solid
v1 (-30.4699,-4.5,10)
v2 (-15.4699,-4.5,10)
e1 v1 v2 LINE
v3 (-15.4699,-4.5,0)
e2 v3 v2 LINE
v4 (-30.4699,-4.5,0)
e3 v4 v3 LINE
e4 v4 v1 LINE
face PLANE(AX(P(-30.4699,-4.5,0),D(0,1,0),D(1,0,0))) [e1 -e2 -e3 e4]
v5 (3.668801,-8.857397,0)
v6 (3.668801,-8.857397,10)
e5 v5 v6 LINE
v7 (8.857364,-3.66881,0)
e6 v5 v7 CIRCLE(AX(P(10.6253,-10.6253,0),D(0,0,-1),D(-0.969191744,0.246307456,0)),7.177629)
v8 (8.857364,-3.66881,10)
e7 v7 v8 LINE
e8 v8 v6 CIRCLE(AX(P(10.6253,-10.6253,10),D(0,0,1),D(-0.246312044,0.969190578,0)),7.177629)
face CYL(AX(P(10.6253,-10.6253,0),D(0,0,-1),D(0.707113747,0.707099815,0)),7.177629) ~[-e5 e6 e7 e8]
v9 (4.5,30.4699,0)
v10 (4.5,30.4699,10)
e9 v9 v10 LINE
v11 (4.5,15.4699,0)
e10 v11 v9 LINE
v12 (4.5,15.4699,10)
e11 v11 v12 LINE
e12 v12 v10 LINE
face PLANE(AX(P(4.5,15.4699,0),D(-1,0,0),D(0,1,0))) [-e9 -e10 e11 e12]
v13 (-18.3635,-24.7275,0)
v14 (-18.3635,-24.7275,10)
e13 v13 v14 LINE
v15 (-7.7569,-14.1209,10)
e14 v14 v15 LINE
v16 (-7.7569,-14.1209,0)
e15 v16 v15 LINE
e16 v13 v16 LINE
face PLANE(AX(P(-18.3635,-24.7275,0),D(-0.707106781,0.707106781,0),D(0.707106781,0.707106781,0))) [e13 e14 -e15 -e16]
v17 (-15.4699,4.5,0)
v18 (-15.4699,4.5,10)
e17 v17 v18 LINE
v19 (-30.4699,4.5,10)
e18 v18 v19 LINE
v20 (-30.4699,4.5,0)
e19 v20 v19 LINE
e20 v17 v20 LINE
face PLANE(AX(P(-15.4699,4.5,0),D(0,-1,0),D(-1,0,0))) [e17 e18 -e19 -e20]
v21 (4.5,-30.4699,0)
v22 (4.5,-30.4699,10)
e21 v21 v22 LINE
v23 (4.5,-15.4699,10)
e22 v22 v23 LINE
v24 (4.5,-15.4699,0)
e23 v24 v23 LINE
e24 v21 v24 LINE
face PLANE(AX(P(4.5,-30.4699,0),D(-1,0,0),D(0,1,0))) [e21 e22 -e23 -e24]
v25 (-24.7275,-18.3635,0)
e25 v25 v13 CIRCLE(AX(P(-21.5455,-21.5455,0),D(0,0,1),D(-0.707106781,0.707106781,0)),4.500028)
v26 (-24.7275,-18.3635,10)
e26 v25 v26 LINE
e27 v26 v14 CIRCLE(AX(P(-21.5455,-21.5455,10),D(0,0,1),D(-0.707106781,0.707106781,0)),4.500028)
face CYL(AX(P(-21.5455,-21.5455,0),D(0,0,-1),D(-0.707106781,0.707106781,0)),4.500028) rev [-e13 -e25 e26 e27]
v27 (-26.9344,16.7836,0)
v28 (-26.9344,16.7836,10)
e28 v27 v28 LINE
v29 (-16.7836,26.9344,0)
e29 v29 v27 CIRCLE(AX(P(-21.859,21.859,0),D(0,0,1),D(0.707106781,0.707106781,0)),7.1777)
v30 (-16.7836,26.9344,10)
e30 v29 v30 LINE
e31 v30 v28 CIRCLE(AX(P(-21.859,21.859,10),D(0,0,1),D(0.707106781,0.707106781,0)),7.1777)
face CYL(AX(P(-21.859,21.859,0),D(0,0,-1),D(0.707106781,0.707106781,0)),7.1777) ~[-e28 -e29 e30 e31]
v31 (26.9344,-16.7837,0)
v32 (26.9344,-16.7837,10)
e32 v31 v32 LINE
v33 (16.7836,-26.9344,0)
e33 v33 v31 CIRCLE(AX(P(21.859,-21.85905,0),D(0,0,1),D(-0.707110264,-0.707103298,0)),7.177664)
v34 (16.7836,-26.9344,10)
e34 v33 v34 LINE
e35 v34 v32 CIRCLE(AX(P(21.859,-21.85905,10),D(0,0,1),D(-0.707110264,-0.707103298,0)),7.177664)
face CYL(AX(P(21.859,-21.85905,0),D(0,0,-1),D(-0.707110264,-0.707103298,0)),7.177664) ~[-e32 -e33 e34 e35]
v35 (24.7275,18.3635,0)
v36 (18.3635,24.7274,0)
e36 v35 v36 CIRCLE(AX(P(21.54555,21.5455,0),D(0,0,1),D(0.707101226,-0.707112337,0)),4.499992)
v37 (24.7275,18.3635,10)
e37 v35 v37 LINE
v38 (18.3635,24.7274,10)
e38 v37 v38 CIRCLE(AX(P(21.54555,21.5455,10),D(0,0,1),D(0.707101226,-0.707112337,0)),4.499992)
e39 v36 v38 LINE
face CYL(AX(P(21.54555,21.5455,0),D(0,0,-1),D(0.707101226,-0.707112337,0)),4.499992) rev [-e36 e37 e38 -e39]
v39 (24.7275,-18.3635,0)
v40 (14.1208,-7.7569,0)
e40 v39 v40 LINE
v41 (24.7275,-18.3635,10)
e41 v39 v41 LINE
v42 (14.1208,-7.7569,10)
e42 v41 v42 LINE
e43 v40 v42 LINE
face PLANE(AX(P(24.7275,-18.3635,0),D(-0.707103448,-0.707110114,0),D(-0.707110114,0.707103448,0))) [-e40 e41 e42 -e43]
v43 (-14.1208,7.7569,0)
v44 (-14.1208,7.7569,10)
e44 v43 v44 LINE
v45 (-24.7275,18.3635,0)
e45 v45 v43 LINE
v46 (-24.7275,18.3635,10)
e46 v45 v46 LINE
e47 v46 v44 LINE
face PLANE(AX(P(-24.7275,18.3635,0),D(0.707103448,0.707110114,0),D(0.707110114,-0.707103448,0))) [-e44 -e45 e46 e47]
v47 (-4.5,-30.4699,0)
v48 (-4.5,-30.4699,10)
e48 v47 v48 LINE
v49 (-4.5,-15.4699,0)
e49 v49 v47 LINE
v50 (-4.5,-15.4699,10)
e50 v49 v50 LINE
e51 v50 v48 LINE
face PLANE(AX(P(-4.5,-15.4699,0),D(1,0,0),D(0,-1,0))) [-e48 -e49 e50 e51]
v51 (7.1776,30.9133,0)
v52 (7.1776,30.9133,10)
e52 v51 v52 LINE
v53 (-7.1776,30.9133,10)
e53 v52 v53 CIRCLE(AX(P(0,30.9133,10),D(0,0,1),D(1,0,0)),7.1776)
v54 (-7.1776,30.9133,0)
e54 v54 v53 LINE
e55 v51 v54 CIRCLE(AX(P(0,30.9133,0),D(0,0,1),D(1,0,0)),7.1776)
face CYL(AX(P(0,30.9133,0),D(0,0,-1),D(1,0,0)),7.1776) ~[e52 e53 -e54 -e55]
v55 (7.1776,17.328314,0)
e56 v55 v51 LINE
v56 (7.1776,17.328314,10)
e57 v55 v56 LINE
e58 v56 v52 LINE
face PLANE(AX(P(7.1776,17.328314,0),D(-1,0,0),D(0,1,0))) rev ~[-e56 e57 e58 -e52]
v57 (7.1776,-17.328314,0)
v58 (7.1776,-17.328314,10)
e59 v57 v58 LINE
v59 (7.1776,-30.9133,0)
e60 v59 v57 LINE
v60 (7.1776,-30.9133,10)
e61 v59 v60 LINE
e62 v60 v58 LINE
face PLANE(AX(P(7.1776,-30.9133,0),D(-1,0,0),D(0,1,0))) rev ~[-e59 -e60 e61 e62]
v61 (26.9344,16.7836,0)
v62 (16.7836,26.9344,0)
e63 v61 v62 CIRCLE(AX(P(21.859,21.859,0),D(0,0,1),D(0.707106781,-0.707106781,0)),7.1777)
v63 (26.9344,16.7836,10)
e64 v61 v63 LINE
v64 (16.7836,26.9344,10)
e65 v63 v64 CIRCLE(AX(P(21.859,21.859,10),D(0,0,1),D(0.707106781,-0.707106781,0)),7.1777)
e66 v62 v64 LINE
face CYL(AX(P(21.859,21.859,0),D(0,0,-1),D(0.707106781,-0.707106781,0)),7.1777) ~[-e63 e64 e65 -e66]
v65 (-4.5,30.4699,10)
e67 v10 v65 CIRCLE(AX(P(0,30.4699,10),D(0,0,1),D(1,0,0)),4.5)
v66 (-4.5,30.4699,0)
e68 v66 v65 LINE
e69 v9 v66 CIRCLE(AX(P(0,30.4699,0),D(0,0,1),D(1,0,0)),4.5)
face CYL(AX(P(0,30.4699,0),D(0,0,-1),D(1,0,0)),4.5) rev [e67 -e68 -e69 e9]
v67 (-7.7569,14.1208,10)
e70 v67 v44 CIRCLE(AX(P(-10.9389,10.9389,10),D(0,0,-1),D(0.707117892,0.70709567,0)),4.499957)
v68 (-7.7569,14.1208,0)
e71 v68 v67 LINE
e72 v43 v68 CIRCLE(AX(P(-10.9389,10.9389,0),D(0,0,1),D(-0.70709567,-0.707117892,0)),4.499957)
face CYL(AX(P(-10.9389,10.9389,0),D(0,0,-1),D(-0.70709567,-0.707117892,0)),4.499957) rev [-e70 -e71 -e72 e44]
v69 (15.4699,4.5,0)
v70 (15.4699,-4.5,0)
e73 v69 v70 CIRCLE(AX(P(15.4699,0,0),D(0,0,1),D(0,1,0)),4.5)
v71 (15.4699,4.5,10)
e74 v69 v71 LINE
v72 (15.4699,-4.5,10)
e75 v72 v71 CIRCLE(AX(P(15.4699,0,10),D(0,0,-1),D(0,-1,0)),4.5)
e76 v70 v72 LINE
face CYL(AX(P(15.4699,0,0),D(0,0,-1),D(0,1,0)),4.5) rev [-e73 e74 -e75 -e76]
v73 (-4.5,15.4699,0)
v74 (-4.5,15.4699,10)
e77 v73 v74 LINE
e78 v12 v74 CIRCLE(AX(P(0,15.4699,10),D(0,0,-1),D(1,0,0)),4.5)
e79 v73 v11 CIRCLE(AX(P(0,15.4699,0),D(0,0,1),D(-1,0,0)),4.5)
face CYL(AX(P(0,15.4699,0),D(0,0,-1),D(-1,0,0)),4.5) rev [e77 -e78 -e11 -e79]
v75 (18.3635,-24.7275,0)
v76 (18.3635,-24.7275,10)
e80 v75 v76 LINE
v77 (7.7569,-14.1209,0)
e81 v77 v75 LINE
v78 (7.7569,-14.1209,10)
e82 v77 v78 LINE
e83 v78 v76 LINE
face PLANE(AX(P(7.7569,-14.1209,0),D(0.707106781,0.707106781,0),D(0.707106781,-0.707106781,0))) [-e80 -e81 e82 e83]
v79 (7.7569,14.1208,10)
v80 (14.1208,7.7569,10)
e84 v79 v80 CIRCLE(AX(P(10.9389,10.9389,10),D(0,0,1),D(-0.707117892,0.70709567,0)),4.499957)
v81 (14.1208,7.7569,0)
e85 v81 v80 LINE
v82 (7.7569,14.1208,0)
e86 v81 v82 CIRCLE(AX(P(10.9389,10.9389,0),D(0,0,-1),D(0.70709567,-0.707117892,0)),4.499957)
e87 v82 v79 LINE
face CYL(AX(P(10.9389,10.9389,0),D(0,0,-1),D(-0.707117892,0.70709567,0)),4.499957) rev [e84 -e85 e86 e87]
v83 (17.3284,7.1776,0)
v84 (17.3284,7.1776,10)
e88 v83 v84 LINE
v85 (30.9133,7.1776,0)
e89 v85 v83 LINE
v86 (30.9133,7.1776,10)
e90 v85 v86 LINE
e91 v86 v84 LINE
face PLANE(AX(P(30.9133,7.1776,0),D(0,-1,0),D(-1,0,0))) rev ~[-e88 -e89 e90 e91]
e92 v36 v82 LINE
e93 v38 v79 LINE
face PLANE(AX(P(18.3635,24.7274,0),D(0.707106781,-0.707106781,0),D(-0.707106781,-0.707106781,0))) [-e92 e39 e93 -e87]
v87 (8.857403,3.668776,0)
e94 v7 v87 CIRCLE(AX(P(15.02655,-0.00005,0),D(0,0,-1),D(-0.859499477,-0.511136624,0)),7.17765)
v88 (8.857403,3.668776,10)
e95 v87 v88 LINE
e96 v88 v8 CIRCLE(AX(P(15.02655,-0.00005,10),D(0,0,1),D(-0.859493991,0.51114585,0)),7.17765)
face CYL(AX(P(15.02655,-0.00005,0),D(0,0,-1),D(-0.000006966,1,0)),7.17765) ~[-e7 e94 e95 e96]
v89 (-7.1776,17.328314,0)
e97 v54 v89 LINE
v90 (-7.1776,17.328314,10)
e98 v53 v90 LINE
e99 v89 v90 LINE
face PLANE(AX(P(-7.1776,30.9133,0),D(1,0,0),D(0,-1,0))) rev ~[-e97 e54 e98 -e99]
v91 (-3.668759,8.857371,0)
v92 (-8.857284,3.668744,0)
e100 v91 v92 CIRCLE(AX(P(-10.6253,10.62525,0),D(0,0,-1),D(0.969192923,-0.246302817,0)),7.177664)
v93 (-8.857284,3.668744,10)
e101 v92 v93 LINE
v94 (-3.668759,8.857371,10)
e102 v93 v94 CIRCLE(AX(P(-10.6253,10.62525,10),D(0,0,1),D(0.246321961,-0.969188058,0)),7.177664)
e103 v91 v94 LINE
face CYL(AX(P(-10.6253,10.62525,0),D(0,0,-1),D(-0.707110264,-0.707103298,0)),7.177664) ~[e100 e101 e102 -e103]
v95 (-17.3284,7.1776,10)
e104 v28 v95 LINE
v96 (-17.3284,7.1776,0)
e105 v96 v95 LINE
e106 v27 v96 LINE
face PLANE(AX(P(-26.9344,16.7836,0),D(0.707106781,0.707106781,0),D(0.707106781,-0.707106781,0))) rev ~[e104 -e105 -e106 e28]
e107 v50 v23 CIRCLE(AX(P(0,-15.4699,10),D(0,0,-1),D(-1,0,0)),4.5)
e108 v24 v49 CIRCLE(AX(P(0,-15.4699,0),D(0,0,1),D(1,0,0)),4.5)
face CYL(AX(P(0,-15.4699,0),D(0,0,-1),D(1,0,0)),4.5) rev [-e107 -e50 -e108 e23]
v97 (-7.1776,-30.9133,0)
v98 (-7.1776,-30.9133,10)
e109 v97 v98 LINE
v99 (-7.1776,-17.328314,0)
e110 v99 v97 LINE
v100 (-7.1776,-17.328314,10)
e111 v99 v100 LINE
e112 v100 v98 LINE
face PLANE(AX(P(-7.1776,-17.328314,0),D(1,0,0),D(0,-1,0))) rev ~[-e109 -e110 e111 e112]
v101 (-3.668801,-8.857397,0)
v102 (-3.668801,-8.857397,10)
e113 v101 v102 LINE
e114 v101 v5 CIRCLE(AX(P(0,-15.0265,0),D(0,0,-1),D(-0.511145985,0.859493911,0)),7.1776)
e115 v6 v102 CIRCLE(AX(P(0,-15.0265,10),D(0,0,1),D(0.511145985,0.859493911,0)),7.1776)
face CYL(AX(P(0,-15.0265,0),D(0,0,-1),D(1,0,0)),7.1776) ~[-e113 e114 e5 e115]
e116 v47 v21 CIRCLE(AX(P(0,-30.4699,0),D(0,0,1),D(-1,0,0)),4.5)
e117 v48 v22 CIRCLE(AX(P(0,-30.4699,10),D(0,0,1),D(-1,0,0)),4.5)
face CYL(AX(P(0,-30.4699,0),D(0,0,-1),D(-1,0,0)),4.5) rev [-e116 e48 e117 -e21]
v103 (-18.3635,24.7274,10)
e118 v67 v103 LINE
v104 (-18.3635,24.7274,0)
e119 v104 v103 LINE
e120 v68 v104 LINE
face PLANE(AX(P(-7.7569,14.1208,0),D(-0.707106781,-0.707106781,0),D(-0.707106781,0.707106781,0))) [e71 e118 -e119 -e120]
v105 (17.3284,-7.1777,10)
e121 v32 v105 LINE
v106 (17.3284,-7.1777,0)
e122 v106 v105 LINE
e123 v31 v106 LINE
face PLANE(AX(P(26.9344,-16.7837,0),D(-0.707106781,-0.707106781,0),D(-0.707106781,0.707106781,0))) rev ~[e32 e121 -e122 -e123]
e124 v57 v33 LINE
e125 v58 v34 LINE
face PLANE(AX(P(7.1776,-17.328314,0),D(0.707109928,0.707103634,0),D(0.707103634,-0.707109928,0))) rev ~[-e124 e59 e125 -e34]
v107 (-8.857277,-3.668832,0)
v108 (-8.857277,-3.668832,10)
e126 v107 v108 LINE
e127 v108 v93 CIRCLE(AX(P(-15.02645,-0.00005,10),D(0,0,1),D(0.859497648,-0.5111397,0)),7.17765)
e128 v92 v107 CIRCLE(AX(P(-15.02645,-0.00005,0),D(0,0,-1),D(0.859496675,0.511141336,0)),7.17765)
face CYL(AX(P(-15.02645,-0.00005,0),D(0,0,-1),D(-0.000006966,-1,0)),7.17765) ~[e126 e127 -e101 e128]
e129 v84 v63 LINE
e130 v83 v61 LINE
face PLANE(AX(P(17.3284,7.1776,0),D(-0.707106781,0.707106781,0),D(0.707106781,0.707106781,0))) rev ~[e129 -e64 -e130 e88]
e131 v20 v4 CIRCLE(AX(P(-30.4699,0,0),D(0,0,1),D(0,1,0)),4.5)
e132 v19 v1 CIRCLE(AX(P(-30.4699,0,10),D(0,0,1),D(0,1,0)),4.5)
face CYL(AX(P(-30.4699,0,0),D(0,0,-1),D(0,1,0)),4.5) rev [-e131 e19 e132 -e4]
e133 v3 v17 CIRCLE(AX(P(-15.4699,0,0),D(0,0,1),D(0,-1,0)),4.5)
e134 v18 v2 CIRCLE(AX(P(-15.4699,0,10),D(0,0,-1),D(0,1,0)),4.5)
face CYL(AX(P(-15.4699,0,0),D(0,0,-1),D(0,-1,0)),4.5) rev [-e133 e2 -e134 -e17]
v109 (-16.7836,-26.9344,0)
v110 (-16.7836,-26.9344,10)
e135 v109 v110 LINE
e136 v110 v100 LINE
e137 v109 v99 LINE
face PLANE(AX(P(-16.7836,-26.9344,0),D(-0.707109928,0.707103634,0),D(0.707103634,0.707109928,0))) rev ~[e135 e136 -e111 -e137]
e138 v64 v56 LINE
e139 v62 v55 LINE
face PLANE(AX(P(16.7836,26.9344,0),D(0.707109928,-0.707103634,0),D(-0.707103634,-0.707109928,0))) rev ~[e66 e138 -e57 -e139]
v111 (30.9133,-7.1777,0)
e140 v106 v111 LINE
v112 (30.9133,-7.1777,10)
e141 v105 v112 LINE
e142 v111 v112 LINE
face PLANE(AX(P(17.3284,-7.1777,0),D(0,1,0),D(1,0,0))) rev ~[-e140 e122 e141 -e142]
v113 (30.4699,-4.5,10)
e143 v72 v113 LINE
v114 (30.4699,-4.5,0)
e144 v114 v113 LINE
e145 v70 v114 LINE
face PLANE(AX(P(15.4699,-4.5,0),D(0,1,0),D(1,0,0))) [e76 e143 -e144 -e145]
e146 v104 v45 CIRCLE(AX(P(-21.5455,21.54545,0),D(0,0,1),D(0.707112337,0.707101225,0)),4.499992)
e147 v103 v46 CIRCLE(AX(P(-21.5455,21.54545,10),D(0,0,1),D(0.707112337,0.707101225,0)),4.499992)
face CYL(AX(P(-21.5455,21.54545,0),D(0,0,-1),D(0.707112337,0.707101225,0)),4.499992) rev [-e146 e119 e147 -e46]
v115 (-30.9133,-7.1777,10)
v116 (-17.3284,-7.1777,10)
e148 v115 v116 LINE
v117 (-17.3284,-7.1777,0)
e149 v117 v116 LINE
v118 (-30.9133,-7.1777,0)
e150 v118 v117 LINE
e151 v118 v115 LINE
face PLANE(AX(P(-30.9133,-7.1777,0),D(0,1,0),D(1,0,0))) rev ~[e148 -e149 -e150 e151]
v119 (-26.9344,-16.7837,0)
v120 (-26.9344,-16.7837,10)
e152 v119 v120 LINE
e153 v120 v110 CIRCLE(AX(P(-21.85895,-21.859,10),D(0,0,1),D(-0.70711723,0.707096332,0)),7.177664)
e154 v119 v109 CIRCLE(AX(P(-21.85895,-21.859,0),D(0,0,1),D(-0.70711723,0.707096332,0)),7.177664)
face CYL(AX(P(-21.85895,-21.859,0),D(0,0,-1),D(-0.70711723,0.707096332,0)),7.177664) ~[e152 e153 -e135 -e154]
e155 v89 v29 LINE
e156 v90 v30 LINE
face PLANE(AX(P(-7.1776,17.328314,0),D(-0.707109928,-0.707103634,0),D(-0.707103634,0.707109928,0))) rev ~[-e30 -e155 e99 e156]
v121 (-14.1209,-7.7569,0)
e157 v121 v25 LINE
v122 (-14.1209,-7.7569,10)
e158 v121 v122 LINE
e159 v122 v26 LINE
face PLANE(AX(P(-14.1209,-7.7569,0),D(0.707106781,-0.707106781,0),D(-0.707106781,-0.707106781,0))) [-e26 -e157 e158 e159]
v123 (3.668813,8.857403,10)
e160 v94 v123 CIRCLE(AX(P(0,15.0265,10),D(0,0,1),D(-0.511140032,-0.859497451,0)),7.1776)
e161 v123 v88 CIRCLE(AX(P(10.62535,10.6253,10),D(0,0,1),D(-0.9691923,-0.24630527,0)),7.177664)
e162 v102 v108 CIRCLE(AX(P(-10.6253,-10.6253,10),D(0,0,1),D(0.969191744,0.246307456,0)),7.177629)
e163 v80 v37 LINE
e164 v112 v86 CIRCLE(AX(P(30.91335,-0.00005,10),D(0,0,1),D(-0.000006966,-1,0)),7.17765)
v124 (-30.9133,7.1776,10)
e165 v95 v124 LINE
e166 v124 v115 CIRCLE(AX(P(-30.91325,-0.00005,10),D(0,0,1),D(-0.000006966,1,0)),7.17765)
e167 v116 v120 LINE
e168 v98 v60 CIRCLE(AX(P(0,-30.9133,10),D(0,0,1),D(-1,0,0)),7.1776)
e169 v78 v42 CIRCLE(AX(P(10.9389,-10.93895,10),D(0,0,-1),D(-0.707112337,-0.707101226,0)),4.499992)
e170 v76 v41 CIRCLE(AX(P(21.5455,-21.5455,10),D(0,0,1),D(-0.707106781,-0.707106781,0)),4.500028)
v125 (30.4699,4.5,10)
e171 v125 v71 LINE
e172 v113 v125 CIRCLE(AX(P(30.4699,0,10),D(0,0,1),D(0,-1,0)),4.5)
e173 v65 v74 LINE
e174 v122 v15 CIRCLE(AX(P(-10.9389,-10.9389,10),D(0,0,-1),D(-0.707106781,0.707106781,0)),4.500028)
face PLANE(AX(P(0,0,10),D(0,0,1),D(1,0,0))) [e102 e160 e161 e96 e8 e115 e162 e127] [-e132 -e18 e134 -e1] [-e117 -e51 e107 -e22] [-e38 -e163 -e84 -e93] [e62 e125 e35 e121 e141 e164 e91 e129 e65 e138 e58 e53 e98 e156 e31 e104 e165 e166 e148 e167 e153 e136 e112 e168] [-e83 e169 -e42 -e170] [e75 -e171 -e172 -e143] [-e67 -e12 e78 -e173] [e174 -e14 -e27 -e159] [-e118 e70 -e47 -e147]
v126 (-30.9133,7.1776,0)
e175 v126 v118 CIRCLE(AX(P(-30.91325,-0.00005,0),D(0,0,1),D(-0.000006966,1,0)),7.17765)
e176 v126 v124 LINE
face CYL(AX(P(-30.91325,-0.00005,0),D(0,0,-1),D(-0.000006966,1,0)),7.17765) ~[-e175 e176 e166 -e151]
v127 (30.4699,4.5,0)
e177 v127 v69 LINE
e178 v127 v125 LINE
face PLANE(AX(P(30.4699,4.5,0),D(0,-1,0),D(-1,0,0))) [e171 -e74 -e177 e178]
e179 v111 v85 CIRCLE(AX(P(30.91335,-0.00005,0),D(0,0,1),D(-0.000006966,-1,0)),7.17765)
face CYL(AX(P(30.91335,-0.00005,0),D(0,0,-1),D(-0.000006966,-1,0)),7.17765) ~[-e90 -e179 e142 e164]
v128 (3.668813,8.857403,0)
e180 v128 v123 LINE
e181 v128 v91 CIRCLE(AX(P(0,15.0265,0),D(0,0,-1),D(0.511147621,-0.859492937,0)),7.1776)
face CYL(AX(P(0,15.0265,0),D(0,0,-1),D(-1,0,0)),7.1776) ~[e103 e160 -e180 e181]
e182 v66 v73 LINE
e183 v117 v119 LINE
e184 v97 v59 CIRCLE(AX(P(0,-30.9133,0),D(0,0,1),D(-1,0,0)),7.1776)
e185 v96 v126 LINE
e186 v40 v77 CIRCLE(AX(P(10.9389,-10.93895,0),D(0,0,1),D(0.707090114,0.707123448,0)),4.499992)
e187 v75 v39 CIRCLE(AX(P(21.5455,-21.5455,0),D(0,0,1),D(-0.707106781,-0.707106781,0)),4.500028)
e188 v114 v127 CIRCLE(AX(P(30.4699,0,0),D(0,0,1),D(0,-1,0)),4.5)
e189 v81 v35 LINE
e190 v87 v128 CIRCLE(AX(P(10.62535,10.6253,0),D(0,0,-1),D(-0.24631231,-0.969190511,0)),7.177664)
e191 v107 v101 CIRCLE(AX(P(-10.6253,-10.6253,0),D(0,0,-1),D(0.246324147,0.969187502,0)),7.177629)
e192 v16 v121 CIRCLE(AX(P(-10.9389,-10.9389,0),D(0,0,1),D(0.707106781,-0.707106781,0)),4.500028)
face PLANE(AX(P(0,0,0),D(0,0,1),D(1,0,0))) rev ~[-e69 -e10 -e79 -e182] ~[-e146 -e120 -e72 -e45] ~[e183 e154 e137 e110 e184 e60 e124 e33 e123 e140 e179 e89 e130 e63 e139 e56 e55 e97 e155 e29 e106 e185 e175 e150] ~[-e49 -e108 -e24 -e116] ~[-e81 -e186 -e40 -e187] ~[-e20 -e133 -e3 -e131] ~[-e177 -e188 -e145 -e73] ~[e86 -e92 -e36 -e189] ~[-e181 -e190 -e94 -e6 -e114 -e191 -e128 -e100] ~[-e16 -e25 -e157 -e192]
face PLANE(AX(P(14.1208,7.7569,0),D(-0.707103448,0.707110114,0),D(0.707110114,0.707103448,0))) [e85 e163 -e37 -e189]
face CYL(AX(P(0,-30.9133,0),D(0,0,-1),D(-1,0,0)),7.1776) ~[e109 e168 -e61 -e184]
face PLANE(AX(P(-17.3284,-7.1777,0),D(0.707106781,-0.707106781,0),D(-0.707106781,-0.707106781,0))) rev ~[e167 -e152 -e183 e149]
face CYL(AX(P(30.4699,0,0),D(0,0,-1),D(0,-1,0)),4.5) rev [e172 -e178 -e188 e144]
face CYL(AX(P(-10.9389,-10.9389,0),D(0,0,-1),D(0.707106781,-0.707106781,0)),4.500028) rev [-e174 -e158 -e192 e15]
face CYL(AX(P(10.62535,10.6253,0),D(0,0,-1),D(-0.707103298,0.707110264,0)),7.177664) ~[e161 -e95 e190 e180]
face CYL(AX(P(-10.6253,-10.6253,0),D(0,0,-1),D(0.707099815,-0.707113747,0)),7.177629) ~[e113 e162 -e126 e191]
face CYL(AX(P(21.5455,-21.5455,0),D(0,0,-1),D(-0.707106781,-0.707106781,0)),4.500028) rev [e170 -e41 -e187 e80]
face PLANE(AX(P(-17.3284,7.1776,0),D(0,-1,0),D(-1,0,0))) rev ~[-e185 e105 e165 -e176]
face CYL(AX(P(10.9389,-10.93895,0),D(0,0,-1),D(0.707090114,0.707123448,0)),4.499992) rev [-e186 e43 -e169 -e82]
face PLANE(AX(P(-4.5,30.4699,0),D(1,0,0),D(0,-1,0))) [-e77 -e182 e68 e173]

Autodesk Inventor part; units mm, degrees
ref_plane "YZ Plane" through (0, 0, 0) normal (1, 0, 0) x (0, 1, 0)
ref_plane "XZ Plane" through (0, 0, 0) normal (0, 1, 0) x (-1, 0, 0)
ref_plane "XY Plane" through (0, 0, 0) normal (0, 0, 1) x (1, 0, 0)
sketch "Sketch1" plane through (0, 0, 0) normal (0, 0, 1) x (1, 0, 0)
  line L0 (0, 30.4699) -> (0, 15.4699) construction
  line L1 (4, 30.4699) -> (4, 15.4699)
  line L2 (-4, 15.4699) -> (-4, 30.4699)
  arc A0 (4, 30.4699) -> (-4, 30.4699) centre (0, 30.4699) ccw
  arc A1 (-4, 15.4699) -> (4, 15.4699) centre (0, 15.4699) ccw
  circle A2 centre (0, 0) radius 22.9699 construction
  arc A3 (-18.717, 24.3739) -> (-24.3739, 18.717) centre (-21.5455, 21.5455) ccw
  line L3 (-18.717, 24.3739) -> (-8.1104, 13.7673)
  arc A4 (-13.7673, 8.1104) -> (-8.1104, 13.7673) centre (-10.9389, 10.9389) ccw
  line L4 (-13.7673, 8.1104) -> (-24.3739, 18.717)
  circle A5 centre (0, 0) radius 22.9699 construction
  arc A6 (-30.4699, 4) -> (-30.4699, -4) centre (-30.4699, 0) ccw
  line L5 (-30.4699, 4) -> (-15.4699, 4)
  arc A7 (-15.4699, -4) -> (-15.4699, 4) centre (-15.4699, 0) ccw
  line L6 (-15.4699, -4) -> (-30.4699, -4)
  circle A8 centre (0, 0) radius 22.9699 construction
  arc A9 (-24.3739, -18.7171) -> (-18.717, -24.3739) centre (-21.5455, -21.5455) ccw
  line L7 (-24.3739, -18.7171) -> (-13.7673, -8.1105)
  arc A10 (-8.1104, -13.7673) -> (-13.7673, -8.1105) centre (-10.9389, -10.9389) ccw
  line L8 (-8.1104, -13.7673) -> (-18.717, -24.3739)
  circle A11 centre (0, 0) radius 22.9699 construction
  arc A12 (-4, -30.4699) -> (4, -30.4699) centre (0, -30.4699) ccw
  line L9 (-4, -30.4699) -> (-4, -15.4699)
  arc A13 (4, -15.4699) -> (-4, -15.4699) centre (0, -15.4699) ccw
  line L10 (4, -15.4699) -> (4, -30.4699)
  circle A14 centre (0, 0) radius 22.9699 construction
  arc A15 (18.717, -24.3739) -> (24.3739, -18.7171) centre (21.5455, -21.5455) ccw
  line L11 (18.717, -24.3739) -> (8.1104, -13.7673)
  arc A16 (13.7673, -8.1105) -> (8.1104, -13.7673) centre (10.9389, -10.9389) ccw
  line L12 (13.7673, -8.1105) -> (24.3739, -18.7171)
  circle A17 centre (0, 0) radius 22.9699 construction
  arc A18 (30.4699, -4) -> (30.4699, 4) centre (30.4699, 0) ccw
  line L13 (30.4699, -4) -> (15.4699, -4)
  arc A19 (15.4699, 4) -> (15.4699, -4) centre (15.4699, 0) ccw
  line L14 (15.4699, 4) -> (30.4699, 4)
  circle A20 centre (0, 0) radius 22.9699 construction
  arc A21 (24.3739, 18.717) -> (18.717, 24.3739) centre (21.5455, 21.5455) ccw
  line L15 (24.3739, 18.717) -> (13.7673, 8.1104)
  arc A22 (8.1104, 13.7673) -> (13.7673, 8.1104) centre (10.9389, 10.9389) ccw
  line L16 (8.1104, 13.7673) -> (18.717, 24.3739)
  circle A23 centre (0, 0) radius 22.9699 construction
  line L17 (18.3635, 24.7274) -> (7.7569, 14.1208)
  arc A24 (7.7569, 14.1208) -> (14.1208, 7.7569) centre (10.9389, 10.9389) ccw
  line L18 (14.1208, 7.7569) -> (24.7275, 18.3635)
  arc A25 (24.7275, 18.3635) -> (18.3635, 24.7274) centre (21.5455, 21.5455) ccw
  line L19 (-4.5, 30.4699) -> (-4.5, 15.4699)
  arc A26 (-4.5, 15.4699) -> (4.5, 15.4699) centre (0, 15.4699) ccw
  line L20 (4.5, 15.4699) -> (4.5, 30.4699)
  arc A27 (4.5, 30.4699) -> (-4.5, 30.4699) centre (0, 30.4699) ccw
  line L21 (-7.7569, 14.1208) -> (-18.3635, 24.7274)
  arc A28 (-18.3635, 24.7274) -> (-24.7275, 18.3635) centre (-21.5455, 21.5455) ccw
  line L22 (-24.7275, 18.3635) -> (-14.1208, 7.7569)
  arc A29 (-14.1208, 7.7569) -> (-7.7569, 14.1208) centre (-10.9389, 10.9389) ccw
  line L23 (-15.4699, 4.5) -> (-30.4699, 4.5)
  arc A30 (-30.4699, 4.5) -> (-30.4699, -4.5) centre (-30.4699, 0) ccw
  line L24 (-30.4699, -4.5) -> (-15.4699, -4.5)
  arc A31 (-15.4699, -4.5) -> (-15.4699, 4.5) centre (-15.4699, 0) ccw
  line L25 (15.4699, -4.5) -> (30.4699, -4.5)
  arc A32 (30.4699, -4.5) -> (30.4699, 4.5) centre (30.4699, 0) ccw
  line L26 (30.4699, 4.5) -> (15.4699, 4.5)
  arc A33 (15.4699, 4.5) -> (15.4699, -4.5) centre (15.4699, 0) ccw
  line L27 (-14.1209, -7.7569) -> (-24.7275, -18.3635)
  arc A34 (-24.7275, -18.3635) -> (-18.3635, -24.7275) centre (-21.5455, -21.5455) ccw
  line L28 (-18.3635, -24.7275) -> (-7.7569, -14.1209)
  arc A35 (-7.7569, -14.1209) -> (-14.1209, -7.7569) centre (-10.9389, -10.9389) ccw
  line L29 (-4.5, -15.4699) -> (-4.5, -30.4699)
  arc A36 (-4.5, -30.4699) -> (4.5, -30.4699) centre (0, -30.4699) ccw
  line L30 (4.5, -30.4699) -> (4.5, -15.4699)
  arc A37 (4.5, -15.4699) -> (-4.5, -15.4699) centre (0, -15.4699) ccw
  line L31 (7.7569, -14.1209) -> (18.3635, -24.7275)
  arc A38 (18.3635, -24.7275) -> (24.7275, -18.3635) centre (21.5455, -21.5455) ccw
  line L32 (24.7275, -18.3635) -> (14.1208, -7.7569)
  arc A39 (14.1208, -7.7569) -> (7.7569, -14.1209) centre (10.9389, -10.9389) ccw
  circle A40 centre (0, 0) radius 9
  line L33 (0, 30.9133) -> (0, 15.0265) construction
  line L34 (-7.1776, 30.9133) -> (-7.1776, 15.0265)
  line L35 (7.1776, 15.0265) -> (7.1776, 30.9133)
  arc A41 (7.1776, 30.9133) -> (-7.1776, 30.9133) centre (0, 30.9133) ccw
  arc A42 (-7.1776, 15.0265) -> (7.1776, 15.0265) centre (0, 15.0265) ccw
  arc A43 (-16.7836, 26.9344) -> (-26.9344, 16.7836) centre (-21.859, 21.859) ccw
  line L36 (-5.55, 15.7007) -> (-16.7836, 26.9344)
  arc A44 (-15.7007, 5.5499) -> (-5.55, 15.7007) centre (-10.6253, 10.6253) ccw
  line L37 (-26.9344, 16.7836) -> (-15.7007, 5.5499)
  arc A45 (-30.9133, 7.1776) -> (-30.9133, -7.1777) centre (-30.9133, 0) ccw
  line L38 (-15.0265, 7.1776) -> (-30.9133, 7.1776)
  arc A46 (-15.0265, -7.1777) -> (-15.0265, 7.1776) centre (-15.0265, 0) ccw
  line L39 (-30.9133, -7.1777) -> (-15.0265, -7.1777)
  arc A47 (-26.9344, -16.7837) -> (-16.7836, -26.9344) centre (-21.859, -21.859) ccw
  line L40 (-15.7007, -5.55) -> (-26.9344, -16.7837)
  arc A48 (-5.55, -15.7007) -> (-15.7007, -5.55) centre (-10.6253, -10.6253) ccw
  line L41 (-16.7836, -26.9344) -> (-5.55, -15.7007)
  arc A49 (-7.1776, -30.9133) -> (7.1776, -30.9133) centre (0, -30.9133) ccw
  line L42 (-7.1776, -15.0265) -> (-7.1776, -30.9133)
  arc A50 (7.1776, -15.0265) -> (-7.1776, -15.0265) centre (0, -15.0265) ccw
  line L43 (7.1776, -30.9133) -> (7.1776, -15.0265)
  arc A51 (16.7836, -26.9344) -> (26.9344, -16.7837) centre (21.859, -21.859) ccw
  line L44 (5.55, -15.7007) -> (16.7836, -26.9344)
  arc A52 (15.7007, -5.55) -> (5.55, -15.7007) centre (10.6253, -10.6253) ccw
  line L45 (26.9344, -16.7837) -> (15.7007, -5.55)
  arc A53 (30.9133, -7.1777) -> (30.9133, 7.1776) centre (30.9133, 0) ccw
  line L46 (15.0265, -7.1777) -> (30.9133, -7.1777)
  arc A54 (15.0265, 7.1776) -> (15.0265, -7.1777) centre (15.0265, 0) ccw
  line L47 (30.9133, 7.1776) -> (15.0265, 7.1776)
  arc A55 (26.9344, 16.7836) -> (16.7836, 26.9344) centre (21.859, 21.859) ccw
  line L48 (15.7007, 5.5499) -> (26.9344, 16.7836)
  arc A56 (5.55, 15.7007) -> (15.7007, 5.5499) centre (10.6253, 10.6253) ccw
  line L49 (16.7836, 26.9344) -> (5.55, 15.7007)
  point P0 (0, 0)
  point P1 (0, 22.9699)
  point P2 (-16.2422, 16.2422)
  point P3 (-22.9699, 0)
  point P4 (-16.2422, -16.2422)
  point P5 (0, -22.9699)
  point P6 (16.2422, -16.2422)
  point P7 (22.9699, 0)
  point P8 (16.2422, 16.2422)
  dimension "d2" = 4
  dimension "d3" = 15
  dimension "d4" = 360
  dimension "d6" = 0.5
  dimension "d7" = 0.5
  dimension "d8" = 0.5
  dimension "d9" = 0.5
  dimension "d10" = 0.5
  dimension "d11" = 0.5
  dimension "d12" = 0.5
  dimension "d13" = 0.5
  dimension "d14" = 18
  dimension "d17" = 360
extrude "Extrusion1" add sketch "Sketch1" along normal blind 10 contours L17 A24 A42 L35 L49 A55 L48 L47 A54 L18 A25 | A24 A54 A56 A40 A42 | A42 A56 L49 L35 | A54 L47 L48 A56 | A42 A40 A44 A26 A56 | A56 A33 A52 A54 A40 | A42 A40 | A26 L20 A27 L19 A44 L36 L34 A41 L35 L49 A56 | A40 A56 | L47 A53 L46 L45 A52 A33 L25 A32 L26 A56 L48 | A40 A54 | A44 A42 L34 L36 | A52 L45 L46 A54 | A44 A40 | A40 A44 A46 A29 A42 | A52 A54 A39 A50 A40 | A40 A52 | A29 L21 A28 L22 A46 L38 L37 A43 L36 L34 A42 | L45 A51 L44 L43 A50 A39 L31 A38 L32 A54 L46 | A46 A40 | A40 A46 A48 A31 A44 | A44 L37 L38 A46 | A50 A52 A37 A48 A40 | A40 A50 | A50 L43 L44 A52 | A31 L23 A30 L24 A48 L40 L39 A45 L38 L37 A44 | A52 L44 L43 A49 L42 L41 A48 A37 L29 A36 L30 | A48 A40 | A40 A48 A50 A35 A46 | A46 L39 L40 A48 | A48 L41 L42 A50 | A35 L27 A34 L28 A50 L42 L41 A47 L40 L39 A46
properties part number "location hole mounter"
